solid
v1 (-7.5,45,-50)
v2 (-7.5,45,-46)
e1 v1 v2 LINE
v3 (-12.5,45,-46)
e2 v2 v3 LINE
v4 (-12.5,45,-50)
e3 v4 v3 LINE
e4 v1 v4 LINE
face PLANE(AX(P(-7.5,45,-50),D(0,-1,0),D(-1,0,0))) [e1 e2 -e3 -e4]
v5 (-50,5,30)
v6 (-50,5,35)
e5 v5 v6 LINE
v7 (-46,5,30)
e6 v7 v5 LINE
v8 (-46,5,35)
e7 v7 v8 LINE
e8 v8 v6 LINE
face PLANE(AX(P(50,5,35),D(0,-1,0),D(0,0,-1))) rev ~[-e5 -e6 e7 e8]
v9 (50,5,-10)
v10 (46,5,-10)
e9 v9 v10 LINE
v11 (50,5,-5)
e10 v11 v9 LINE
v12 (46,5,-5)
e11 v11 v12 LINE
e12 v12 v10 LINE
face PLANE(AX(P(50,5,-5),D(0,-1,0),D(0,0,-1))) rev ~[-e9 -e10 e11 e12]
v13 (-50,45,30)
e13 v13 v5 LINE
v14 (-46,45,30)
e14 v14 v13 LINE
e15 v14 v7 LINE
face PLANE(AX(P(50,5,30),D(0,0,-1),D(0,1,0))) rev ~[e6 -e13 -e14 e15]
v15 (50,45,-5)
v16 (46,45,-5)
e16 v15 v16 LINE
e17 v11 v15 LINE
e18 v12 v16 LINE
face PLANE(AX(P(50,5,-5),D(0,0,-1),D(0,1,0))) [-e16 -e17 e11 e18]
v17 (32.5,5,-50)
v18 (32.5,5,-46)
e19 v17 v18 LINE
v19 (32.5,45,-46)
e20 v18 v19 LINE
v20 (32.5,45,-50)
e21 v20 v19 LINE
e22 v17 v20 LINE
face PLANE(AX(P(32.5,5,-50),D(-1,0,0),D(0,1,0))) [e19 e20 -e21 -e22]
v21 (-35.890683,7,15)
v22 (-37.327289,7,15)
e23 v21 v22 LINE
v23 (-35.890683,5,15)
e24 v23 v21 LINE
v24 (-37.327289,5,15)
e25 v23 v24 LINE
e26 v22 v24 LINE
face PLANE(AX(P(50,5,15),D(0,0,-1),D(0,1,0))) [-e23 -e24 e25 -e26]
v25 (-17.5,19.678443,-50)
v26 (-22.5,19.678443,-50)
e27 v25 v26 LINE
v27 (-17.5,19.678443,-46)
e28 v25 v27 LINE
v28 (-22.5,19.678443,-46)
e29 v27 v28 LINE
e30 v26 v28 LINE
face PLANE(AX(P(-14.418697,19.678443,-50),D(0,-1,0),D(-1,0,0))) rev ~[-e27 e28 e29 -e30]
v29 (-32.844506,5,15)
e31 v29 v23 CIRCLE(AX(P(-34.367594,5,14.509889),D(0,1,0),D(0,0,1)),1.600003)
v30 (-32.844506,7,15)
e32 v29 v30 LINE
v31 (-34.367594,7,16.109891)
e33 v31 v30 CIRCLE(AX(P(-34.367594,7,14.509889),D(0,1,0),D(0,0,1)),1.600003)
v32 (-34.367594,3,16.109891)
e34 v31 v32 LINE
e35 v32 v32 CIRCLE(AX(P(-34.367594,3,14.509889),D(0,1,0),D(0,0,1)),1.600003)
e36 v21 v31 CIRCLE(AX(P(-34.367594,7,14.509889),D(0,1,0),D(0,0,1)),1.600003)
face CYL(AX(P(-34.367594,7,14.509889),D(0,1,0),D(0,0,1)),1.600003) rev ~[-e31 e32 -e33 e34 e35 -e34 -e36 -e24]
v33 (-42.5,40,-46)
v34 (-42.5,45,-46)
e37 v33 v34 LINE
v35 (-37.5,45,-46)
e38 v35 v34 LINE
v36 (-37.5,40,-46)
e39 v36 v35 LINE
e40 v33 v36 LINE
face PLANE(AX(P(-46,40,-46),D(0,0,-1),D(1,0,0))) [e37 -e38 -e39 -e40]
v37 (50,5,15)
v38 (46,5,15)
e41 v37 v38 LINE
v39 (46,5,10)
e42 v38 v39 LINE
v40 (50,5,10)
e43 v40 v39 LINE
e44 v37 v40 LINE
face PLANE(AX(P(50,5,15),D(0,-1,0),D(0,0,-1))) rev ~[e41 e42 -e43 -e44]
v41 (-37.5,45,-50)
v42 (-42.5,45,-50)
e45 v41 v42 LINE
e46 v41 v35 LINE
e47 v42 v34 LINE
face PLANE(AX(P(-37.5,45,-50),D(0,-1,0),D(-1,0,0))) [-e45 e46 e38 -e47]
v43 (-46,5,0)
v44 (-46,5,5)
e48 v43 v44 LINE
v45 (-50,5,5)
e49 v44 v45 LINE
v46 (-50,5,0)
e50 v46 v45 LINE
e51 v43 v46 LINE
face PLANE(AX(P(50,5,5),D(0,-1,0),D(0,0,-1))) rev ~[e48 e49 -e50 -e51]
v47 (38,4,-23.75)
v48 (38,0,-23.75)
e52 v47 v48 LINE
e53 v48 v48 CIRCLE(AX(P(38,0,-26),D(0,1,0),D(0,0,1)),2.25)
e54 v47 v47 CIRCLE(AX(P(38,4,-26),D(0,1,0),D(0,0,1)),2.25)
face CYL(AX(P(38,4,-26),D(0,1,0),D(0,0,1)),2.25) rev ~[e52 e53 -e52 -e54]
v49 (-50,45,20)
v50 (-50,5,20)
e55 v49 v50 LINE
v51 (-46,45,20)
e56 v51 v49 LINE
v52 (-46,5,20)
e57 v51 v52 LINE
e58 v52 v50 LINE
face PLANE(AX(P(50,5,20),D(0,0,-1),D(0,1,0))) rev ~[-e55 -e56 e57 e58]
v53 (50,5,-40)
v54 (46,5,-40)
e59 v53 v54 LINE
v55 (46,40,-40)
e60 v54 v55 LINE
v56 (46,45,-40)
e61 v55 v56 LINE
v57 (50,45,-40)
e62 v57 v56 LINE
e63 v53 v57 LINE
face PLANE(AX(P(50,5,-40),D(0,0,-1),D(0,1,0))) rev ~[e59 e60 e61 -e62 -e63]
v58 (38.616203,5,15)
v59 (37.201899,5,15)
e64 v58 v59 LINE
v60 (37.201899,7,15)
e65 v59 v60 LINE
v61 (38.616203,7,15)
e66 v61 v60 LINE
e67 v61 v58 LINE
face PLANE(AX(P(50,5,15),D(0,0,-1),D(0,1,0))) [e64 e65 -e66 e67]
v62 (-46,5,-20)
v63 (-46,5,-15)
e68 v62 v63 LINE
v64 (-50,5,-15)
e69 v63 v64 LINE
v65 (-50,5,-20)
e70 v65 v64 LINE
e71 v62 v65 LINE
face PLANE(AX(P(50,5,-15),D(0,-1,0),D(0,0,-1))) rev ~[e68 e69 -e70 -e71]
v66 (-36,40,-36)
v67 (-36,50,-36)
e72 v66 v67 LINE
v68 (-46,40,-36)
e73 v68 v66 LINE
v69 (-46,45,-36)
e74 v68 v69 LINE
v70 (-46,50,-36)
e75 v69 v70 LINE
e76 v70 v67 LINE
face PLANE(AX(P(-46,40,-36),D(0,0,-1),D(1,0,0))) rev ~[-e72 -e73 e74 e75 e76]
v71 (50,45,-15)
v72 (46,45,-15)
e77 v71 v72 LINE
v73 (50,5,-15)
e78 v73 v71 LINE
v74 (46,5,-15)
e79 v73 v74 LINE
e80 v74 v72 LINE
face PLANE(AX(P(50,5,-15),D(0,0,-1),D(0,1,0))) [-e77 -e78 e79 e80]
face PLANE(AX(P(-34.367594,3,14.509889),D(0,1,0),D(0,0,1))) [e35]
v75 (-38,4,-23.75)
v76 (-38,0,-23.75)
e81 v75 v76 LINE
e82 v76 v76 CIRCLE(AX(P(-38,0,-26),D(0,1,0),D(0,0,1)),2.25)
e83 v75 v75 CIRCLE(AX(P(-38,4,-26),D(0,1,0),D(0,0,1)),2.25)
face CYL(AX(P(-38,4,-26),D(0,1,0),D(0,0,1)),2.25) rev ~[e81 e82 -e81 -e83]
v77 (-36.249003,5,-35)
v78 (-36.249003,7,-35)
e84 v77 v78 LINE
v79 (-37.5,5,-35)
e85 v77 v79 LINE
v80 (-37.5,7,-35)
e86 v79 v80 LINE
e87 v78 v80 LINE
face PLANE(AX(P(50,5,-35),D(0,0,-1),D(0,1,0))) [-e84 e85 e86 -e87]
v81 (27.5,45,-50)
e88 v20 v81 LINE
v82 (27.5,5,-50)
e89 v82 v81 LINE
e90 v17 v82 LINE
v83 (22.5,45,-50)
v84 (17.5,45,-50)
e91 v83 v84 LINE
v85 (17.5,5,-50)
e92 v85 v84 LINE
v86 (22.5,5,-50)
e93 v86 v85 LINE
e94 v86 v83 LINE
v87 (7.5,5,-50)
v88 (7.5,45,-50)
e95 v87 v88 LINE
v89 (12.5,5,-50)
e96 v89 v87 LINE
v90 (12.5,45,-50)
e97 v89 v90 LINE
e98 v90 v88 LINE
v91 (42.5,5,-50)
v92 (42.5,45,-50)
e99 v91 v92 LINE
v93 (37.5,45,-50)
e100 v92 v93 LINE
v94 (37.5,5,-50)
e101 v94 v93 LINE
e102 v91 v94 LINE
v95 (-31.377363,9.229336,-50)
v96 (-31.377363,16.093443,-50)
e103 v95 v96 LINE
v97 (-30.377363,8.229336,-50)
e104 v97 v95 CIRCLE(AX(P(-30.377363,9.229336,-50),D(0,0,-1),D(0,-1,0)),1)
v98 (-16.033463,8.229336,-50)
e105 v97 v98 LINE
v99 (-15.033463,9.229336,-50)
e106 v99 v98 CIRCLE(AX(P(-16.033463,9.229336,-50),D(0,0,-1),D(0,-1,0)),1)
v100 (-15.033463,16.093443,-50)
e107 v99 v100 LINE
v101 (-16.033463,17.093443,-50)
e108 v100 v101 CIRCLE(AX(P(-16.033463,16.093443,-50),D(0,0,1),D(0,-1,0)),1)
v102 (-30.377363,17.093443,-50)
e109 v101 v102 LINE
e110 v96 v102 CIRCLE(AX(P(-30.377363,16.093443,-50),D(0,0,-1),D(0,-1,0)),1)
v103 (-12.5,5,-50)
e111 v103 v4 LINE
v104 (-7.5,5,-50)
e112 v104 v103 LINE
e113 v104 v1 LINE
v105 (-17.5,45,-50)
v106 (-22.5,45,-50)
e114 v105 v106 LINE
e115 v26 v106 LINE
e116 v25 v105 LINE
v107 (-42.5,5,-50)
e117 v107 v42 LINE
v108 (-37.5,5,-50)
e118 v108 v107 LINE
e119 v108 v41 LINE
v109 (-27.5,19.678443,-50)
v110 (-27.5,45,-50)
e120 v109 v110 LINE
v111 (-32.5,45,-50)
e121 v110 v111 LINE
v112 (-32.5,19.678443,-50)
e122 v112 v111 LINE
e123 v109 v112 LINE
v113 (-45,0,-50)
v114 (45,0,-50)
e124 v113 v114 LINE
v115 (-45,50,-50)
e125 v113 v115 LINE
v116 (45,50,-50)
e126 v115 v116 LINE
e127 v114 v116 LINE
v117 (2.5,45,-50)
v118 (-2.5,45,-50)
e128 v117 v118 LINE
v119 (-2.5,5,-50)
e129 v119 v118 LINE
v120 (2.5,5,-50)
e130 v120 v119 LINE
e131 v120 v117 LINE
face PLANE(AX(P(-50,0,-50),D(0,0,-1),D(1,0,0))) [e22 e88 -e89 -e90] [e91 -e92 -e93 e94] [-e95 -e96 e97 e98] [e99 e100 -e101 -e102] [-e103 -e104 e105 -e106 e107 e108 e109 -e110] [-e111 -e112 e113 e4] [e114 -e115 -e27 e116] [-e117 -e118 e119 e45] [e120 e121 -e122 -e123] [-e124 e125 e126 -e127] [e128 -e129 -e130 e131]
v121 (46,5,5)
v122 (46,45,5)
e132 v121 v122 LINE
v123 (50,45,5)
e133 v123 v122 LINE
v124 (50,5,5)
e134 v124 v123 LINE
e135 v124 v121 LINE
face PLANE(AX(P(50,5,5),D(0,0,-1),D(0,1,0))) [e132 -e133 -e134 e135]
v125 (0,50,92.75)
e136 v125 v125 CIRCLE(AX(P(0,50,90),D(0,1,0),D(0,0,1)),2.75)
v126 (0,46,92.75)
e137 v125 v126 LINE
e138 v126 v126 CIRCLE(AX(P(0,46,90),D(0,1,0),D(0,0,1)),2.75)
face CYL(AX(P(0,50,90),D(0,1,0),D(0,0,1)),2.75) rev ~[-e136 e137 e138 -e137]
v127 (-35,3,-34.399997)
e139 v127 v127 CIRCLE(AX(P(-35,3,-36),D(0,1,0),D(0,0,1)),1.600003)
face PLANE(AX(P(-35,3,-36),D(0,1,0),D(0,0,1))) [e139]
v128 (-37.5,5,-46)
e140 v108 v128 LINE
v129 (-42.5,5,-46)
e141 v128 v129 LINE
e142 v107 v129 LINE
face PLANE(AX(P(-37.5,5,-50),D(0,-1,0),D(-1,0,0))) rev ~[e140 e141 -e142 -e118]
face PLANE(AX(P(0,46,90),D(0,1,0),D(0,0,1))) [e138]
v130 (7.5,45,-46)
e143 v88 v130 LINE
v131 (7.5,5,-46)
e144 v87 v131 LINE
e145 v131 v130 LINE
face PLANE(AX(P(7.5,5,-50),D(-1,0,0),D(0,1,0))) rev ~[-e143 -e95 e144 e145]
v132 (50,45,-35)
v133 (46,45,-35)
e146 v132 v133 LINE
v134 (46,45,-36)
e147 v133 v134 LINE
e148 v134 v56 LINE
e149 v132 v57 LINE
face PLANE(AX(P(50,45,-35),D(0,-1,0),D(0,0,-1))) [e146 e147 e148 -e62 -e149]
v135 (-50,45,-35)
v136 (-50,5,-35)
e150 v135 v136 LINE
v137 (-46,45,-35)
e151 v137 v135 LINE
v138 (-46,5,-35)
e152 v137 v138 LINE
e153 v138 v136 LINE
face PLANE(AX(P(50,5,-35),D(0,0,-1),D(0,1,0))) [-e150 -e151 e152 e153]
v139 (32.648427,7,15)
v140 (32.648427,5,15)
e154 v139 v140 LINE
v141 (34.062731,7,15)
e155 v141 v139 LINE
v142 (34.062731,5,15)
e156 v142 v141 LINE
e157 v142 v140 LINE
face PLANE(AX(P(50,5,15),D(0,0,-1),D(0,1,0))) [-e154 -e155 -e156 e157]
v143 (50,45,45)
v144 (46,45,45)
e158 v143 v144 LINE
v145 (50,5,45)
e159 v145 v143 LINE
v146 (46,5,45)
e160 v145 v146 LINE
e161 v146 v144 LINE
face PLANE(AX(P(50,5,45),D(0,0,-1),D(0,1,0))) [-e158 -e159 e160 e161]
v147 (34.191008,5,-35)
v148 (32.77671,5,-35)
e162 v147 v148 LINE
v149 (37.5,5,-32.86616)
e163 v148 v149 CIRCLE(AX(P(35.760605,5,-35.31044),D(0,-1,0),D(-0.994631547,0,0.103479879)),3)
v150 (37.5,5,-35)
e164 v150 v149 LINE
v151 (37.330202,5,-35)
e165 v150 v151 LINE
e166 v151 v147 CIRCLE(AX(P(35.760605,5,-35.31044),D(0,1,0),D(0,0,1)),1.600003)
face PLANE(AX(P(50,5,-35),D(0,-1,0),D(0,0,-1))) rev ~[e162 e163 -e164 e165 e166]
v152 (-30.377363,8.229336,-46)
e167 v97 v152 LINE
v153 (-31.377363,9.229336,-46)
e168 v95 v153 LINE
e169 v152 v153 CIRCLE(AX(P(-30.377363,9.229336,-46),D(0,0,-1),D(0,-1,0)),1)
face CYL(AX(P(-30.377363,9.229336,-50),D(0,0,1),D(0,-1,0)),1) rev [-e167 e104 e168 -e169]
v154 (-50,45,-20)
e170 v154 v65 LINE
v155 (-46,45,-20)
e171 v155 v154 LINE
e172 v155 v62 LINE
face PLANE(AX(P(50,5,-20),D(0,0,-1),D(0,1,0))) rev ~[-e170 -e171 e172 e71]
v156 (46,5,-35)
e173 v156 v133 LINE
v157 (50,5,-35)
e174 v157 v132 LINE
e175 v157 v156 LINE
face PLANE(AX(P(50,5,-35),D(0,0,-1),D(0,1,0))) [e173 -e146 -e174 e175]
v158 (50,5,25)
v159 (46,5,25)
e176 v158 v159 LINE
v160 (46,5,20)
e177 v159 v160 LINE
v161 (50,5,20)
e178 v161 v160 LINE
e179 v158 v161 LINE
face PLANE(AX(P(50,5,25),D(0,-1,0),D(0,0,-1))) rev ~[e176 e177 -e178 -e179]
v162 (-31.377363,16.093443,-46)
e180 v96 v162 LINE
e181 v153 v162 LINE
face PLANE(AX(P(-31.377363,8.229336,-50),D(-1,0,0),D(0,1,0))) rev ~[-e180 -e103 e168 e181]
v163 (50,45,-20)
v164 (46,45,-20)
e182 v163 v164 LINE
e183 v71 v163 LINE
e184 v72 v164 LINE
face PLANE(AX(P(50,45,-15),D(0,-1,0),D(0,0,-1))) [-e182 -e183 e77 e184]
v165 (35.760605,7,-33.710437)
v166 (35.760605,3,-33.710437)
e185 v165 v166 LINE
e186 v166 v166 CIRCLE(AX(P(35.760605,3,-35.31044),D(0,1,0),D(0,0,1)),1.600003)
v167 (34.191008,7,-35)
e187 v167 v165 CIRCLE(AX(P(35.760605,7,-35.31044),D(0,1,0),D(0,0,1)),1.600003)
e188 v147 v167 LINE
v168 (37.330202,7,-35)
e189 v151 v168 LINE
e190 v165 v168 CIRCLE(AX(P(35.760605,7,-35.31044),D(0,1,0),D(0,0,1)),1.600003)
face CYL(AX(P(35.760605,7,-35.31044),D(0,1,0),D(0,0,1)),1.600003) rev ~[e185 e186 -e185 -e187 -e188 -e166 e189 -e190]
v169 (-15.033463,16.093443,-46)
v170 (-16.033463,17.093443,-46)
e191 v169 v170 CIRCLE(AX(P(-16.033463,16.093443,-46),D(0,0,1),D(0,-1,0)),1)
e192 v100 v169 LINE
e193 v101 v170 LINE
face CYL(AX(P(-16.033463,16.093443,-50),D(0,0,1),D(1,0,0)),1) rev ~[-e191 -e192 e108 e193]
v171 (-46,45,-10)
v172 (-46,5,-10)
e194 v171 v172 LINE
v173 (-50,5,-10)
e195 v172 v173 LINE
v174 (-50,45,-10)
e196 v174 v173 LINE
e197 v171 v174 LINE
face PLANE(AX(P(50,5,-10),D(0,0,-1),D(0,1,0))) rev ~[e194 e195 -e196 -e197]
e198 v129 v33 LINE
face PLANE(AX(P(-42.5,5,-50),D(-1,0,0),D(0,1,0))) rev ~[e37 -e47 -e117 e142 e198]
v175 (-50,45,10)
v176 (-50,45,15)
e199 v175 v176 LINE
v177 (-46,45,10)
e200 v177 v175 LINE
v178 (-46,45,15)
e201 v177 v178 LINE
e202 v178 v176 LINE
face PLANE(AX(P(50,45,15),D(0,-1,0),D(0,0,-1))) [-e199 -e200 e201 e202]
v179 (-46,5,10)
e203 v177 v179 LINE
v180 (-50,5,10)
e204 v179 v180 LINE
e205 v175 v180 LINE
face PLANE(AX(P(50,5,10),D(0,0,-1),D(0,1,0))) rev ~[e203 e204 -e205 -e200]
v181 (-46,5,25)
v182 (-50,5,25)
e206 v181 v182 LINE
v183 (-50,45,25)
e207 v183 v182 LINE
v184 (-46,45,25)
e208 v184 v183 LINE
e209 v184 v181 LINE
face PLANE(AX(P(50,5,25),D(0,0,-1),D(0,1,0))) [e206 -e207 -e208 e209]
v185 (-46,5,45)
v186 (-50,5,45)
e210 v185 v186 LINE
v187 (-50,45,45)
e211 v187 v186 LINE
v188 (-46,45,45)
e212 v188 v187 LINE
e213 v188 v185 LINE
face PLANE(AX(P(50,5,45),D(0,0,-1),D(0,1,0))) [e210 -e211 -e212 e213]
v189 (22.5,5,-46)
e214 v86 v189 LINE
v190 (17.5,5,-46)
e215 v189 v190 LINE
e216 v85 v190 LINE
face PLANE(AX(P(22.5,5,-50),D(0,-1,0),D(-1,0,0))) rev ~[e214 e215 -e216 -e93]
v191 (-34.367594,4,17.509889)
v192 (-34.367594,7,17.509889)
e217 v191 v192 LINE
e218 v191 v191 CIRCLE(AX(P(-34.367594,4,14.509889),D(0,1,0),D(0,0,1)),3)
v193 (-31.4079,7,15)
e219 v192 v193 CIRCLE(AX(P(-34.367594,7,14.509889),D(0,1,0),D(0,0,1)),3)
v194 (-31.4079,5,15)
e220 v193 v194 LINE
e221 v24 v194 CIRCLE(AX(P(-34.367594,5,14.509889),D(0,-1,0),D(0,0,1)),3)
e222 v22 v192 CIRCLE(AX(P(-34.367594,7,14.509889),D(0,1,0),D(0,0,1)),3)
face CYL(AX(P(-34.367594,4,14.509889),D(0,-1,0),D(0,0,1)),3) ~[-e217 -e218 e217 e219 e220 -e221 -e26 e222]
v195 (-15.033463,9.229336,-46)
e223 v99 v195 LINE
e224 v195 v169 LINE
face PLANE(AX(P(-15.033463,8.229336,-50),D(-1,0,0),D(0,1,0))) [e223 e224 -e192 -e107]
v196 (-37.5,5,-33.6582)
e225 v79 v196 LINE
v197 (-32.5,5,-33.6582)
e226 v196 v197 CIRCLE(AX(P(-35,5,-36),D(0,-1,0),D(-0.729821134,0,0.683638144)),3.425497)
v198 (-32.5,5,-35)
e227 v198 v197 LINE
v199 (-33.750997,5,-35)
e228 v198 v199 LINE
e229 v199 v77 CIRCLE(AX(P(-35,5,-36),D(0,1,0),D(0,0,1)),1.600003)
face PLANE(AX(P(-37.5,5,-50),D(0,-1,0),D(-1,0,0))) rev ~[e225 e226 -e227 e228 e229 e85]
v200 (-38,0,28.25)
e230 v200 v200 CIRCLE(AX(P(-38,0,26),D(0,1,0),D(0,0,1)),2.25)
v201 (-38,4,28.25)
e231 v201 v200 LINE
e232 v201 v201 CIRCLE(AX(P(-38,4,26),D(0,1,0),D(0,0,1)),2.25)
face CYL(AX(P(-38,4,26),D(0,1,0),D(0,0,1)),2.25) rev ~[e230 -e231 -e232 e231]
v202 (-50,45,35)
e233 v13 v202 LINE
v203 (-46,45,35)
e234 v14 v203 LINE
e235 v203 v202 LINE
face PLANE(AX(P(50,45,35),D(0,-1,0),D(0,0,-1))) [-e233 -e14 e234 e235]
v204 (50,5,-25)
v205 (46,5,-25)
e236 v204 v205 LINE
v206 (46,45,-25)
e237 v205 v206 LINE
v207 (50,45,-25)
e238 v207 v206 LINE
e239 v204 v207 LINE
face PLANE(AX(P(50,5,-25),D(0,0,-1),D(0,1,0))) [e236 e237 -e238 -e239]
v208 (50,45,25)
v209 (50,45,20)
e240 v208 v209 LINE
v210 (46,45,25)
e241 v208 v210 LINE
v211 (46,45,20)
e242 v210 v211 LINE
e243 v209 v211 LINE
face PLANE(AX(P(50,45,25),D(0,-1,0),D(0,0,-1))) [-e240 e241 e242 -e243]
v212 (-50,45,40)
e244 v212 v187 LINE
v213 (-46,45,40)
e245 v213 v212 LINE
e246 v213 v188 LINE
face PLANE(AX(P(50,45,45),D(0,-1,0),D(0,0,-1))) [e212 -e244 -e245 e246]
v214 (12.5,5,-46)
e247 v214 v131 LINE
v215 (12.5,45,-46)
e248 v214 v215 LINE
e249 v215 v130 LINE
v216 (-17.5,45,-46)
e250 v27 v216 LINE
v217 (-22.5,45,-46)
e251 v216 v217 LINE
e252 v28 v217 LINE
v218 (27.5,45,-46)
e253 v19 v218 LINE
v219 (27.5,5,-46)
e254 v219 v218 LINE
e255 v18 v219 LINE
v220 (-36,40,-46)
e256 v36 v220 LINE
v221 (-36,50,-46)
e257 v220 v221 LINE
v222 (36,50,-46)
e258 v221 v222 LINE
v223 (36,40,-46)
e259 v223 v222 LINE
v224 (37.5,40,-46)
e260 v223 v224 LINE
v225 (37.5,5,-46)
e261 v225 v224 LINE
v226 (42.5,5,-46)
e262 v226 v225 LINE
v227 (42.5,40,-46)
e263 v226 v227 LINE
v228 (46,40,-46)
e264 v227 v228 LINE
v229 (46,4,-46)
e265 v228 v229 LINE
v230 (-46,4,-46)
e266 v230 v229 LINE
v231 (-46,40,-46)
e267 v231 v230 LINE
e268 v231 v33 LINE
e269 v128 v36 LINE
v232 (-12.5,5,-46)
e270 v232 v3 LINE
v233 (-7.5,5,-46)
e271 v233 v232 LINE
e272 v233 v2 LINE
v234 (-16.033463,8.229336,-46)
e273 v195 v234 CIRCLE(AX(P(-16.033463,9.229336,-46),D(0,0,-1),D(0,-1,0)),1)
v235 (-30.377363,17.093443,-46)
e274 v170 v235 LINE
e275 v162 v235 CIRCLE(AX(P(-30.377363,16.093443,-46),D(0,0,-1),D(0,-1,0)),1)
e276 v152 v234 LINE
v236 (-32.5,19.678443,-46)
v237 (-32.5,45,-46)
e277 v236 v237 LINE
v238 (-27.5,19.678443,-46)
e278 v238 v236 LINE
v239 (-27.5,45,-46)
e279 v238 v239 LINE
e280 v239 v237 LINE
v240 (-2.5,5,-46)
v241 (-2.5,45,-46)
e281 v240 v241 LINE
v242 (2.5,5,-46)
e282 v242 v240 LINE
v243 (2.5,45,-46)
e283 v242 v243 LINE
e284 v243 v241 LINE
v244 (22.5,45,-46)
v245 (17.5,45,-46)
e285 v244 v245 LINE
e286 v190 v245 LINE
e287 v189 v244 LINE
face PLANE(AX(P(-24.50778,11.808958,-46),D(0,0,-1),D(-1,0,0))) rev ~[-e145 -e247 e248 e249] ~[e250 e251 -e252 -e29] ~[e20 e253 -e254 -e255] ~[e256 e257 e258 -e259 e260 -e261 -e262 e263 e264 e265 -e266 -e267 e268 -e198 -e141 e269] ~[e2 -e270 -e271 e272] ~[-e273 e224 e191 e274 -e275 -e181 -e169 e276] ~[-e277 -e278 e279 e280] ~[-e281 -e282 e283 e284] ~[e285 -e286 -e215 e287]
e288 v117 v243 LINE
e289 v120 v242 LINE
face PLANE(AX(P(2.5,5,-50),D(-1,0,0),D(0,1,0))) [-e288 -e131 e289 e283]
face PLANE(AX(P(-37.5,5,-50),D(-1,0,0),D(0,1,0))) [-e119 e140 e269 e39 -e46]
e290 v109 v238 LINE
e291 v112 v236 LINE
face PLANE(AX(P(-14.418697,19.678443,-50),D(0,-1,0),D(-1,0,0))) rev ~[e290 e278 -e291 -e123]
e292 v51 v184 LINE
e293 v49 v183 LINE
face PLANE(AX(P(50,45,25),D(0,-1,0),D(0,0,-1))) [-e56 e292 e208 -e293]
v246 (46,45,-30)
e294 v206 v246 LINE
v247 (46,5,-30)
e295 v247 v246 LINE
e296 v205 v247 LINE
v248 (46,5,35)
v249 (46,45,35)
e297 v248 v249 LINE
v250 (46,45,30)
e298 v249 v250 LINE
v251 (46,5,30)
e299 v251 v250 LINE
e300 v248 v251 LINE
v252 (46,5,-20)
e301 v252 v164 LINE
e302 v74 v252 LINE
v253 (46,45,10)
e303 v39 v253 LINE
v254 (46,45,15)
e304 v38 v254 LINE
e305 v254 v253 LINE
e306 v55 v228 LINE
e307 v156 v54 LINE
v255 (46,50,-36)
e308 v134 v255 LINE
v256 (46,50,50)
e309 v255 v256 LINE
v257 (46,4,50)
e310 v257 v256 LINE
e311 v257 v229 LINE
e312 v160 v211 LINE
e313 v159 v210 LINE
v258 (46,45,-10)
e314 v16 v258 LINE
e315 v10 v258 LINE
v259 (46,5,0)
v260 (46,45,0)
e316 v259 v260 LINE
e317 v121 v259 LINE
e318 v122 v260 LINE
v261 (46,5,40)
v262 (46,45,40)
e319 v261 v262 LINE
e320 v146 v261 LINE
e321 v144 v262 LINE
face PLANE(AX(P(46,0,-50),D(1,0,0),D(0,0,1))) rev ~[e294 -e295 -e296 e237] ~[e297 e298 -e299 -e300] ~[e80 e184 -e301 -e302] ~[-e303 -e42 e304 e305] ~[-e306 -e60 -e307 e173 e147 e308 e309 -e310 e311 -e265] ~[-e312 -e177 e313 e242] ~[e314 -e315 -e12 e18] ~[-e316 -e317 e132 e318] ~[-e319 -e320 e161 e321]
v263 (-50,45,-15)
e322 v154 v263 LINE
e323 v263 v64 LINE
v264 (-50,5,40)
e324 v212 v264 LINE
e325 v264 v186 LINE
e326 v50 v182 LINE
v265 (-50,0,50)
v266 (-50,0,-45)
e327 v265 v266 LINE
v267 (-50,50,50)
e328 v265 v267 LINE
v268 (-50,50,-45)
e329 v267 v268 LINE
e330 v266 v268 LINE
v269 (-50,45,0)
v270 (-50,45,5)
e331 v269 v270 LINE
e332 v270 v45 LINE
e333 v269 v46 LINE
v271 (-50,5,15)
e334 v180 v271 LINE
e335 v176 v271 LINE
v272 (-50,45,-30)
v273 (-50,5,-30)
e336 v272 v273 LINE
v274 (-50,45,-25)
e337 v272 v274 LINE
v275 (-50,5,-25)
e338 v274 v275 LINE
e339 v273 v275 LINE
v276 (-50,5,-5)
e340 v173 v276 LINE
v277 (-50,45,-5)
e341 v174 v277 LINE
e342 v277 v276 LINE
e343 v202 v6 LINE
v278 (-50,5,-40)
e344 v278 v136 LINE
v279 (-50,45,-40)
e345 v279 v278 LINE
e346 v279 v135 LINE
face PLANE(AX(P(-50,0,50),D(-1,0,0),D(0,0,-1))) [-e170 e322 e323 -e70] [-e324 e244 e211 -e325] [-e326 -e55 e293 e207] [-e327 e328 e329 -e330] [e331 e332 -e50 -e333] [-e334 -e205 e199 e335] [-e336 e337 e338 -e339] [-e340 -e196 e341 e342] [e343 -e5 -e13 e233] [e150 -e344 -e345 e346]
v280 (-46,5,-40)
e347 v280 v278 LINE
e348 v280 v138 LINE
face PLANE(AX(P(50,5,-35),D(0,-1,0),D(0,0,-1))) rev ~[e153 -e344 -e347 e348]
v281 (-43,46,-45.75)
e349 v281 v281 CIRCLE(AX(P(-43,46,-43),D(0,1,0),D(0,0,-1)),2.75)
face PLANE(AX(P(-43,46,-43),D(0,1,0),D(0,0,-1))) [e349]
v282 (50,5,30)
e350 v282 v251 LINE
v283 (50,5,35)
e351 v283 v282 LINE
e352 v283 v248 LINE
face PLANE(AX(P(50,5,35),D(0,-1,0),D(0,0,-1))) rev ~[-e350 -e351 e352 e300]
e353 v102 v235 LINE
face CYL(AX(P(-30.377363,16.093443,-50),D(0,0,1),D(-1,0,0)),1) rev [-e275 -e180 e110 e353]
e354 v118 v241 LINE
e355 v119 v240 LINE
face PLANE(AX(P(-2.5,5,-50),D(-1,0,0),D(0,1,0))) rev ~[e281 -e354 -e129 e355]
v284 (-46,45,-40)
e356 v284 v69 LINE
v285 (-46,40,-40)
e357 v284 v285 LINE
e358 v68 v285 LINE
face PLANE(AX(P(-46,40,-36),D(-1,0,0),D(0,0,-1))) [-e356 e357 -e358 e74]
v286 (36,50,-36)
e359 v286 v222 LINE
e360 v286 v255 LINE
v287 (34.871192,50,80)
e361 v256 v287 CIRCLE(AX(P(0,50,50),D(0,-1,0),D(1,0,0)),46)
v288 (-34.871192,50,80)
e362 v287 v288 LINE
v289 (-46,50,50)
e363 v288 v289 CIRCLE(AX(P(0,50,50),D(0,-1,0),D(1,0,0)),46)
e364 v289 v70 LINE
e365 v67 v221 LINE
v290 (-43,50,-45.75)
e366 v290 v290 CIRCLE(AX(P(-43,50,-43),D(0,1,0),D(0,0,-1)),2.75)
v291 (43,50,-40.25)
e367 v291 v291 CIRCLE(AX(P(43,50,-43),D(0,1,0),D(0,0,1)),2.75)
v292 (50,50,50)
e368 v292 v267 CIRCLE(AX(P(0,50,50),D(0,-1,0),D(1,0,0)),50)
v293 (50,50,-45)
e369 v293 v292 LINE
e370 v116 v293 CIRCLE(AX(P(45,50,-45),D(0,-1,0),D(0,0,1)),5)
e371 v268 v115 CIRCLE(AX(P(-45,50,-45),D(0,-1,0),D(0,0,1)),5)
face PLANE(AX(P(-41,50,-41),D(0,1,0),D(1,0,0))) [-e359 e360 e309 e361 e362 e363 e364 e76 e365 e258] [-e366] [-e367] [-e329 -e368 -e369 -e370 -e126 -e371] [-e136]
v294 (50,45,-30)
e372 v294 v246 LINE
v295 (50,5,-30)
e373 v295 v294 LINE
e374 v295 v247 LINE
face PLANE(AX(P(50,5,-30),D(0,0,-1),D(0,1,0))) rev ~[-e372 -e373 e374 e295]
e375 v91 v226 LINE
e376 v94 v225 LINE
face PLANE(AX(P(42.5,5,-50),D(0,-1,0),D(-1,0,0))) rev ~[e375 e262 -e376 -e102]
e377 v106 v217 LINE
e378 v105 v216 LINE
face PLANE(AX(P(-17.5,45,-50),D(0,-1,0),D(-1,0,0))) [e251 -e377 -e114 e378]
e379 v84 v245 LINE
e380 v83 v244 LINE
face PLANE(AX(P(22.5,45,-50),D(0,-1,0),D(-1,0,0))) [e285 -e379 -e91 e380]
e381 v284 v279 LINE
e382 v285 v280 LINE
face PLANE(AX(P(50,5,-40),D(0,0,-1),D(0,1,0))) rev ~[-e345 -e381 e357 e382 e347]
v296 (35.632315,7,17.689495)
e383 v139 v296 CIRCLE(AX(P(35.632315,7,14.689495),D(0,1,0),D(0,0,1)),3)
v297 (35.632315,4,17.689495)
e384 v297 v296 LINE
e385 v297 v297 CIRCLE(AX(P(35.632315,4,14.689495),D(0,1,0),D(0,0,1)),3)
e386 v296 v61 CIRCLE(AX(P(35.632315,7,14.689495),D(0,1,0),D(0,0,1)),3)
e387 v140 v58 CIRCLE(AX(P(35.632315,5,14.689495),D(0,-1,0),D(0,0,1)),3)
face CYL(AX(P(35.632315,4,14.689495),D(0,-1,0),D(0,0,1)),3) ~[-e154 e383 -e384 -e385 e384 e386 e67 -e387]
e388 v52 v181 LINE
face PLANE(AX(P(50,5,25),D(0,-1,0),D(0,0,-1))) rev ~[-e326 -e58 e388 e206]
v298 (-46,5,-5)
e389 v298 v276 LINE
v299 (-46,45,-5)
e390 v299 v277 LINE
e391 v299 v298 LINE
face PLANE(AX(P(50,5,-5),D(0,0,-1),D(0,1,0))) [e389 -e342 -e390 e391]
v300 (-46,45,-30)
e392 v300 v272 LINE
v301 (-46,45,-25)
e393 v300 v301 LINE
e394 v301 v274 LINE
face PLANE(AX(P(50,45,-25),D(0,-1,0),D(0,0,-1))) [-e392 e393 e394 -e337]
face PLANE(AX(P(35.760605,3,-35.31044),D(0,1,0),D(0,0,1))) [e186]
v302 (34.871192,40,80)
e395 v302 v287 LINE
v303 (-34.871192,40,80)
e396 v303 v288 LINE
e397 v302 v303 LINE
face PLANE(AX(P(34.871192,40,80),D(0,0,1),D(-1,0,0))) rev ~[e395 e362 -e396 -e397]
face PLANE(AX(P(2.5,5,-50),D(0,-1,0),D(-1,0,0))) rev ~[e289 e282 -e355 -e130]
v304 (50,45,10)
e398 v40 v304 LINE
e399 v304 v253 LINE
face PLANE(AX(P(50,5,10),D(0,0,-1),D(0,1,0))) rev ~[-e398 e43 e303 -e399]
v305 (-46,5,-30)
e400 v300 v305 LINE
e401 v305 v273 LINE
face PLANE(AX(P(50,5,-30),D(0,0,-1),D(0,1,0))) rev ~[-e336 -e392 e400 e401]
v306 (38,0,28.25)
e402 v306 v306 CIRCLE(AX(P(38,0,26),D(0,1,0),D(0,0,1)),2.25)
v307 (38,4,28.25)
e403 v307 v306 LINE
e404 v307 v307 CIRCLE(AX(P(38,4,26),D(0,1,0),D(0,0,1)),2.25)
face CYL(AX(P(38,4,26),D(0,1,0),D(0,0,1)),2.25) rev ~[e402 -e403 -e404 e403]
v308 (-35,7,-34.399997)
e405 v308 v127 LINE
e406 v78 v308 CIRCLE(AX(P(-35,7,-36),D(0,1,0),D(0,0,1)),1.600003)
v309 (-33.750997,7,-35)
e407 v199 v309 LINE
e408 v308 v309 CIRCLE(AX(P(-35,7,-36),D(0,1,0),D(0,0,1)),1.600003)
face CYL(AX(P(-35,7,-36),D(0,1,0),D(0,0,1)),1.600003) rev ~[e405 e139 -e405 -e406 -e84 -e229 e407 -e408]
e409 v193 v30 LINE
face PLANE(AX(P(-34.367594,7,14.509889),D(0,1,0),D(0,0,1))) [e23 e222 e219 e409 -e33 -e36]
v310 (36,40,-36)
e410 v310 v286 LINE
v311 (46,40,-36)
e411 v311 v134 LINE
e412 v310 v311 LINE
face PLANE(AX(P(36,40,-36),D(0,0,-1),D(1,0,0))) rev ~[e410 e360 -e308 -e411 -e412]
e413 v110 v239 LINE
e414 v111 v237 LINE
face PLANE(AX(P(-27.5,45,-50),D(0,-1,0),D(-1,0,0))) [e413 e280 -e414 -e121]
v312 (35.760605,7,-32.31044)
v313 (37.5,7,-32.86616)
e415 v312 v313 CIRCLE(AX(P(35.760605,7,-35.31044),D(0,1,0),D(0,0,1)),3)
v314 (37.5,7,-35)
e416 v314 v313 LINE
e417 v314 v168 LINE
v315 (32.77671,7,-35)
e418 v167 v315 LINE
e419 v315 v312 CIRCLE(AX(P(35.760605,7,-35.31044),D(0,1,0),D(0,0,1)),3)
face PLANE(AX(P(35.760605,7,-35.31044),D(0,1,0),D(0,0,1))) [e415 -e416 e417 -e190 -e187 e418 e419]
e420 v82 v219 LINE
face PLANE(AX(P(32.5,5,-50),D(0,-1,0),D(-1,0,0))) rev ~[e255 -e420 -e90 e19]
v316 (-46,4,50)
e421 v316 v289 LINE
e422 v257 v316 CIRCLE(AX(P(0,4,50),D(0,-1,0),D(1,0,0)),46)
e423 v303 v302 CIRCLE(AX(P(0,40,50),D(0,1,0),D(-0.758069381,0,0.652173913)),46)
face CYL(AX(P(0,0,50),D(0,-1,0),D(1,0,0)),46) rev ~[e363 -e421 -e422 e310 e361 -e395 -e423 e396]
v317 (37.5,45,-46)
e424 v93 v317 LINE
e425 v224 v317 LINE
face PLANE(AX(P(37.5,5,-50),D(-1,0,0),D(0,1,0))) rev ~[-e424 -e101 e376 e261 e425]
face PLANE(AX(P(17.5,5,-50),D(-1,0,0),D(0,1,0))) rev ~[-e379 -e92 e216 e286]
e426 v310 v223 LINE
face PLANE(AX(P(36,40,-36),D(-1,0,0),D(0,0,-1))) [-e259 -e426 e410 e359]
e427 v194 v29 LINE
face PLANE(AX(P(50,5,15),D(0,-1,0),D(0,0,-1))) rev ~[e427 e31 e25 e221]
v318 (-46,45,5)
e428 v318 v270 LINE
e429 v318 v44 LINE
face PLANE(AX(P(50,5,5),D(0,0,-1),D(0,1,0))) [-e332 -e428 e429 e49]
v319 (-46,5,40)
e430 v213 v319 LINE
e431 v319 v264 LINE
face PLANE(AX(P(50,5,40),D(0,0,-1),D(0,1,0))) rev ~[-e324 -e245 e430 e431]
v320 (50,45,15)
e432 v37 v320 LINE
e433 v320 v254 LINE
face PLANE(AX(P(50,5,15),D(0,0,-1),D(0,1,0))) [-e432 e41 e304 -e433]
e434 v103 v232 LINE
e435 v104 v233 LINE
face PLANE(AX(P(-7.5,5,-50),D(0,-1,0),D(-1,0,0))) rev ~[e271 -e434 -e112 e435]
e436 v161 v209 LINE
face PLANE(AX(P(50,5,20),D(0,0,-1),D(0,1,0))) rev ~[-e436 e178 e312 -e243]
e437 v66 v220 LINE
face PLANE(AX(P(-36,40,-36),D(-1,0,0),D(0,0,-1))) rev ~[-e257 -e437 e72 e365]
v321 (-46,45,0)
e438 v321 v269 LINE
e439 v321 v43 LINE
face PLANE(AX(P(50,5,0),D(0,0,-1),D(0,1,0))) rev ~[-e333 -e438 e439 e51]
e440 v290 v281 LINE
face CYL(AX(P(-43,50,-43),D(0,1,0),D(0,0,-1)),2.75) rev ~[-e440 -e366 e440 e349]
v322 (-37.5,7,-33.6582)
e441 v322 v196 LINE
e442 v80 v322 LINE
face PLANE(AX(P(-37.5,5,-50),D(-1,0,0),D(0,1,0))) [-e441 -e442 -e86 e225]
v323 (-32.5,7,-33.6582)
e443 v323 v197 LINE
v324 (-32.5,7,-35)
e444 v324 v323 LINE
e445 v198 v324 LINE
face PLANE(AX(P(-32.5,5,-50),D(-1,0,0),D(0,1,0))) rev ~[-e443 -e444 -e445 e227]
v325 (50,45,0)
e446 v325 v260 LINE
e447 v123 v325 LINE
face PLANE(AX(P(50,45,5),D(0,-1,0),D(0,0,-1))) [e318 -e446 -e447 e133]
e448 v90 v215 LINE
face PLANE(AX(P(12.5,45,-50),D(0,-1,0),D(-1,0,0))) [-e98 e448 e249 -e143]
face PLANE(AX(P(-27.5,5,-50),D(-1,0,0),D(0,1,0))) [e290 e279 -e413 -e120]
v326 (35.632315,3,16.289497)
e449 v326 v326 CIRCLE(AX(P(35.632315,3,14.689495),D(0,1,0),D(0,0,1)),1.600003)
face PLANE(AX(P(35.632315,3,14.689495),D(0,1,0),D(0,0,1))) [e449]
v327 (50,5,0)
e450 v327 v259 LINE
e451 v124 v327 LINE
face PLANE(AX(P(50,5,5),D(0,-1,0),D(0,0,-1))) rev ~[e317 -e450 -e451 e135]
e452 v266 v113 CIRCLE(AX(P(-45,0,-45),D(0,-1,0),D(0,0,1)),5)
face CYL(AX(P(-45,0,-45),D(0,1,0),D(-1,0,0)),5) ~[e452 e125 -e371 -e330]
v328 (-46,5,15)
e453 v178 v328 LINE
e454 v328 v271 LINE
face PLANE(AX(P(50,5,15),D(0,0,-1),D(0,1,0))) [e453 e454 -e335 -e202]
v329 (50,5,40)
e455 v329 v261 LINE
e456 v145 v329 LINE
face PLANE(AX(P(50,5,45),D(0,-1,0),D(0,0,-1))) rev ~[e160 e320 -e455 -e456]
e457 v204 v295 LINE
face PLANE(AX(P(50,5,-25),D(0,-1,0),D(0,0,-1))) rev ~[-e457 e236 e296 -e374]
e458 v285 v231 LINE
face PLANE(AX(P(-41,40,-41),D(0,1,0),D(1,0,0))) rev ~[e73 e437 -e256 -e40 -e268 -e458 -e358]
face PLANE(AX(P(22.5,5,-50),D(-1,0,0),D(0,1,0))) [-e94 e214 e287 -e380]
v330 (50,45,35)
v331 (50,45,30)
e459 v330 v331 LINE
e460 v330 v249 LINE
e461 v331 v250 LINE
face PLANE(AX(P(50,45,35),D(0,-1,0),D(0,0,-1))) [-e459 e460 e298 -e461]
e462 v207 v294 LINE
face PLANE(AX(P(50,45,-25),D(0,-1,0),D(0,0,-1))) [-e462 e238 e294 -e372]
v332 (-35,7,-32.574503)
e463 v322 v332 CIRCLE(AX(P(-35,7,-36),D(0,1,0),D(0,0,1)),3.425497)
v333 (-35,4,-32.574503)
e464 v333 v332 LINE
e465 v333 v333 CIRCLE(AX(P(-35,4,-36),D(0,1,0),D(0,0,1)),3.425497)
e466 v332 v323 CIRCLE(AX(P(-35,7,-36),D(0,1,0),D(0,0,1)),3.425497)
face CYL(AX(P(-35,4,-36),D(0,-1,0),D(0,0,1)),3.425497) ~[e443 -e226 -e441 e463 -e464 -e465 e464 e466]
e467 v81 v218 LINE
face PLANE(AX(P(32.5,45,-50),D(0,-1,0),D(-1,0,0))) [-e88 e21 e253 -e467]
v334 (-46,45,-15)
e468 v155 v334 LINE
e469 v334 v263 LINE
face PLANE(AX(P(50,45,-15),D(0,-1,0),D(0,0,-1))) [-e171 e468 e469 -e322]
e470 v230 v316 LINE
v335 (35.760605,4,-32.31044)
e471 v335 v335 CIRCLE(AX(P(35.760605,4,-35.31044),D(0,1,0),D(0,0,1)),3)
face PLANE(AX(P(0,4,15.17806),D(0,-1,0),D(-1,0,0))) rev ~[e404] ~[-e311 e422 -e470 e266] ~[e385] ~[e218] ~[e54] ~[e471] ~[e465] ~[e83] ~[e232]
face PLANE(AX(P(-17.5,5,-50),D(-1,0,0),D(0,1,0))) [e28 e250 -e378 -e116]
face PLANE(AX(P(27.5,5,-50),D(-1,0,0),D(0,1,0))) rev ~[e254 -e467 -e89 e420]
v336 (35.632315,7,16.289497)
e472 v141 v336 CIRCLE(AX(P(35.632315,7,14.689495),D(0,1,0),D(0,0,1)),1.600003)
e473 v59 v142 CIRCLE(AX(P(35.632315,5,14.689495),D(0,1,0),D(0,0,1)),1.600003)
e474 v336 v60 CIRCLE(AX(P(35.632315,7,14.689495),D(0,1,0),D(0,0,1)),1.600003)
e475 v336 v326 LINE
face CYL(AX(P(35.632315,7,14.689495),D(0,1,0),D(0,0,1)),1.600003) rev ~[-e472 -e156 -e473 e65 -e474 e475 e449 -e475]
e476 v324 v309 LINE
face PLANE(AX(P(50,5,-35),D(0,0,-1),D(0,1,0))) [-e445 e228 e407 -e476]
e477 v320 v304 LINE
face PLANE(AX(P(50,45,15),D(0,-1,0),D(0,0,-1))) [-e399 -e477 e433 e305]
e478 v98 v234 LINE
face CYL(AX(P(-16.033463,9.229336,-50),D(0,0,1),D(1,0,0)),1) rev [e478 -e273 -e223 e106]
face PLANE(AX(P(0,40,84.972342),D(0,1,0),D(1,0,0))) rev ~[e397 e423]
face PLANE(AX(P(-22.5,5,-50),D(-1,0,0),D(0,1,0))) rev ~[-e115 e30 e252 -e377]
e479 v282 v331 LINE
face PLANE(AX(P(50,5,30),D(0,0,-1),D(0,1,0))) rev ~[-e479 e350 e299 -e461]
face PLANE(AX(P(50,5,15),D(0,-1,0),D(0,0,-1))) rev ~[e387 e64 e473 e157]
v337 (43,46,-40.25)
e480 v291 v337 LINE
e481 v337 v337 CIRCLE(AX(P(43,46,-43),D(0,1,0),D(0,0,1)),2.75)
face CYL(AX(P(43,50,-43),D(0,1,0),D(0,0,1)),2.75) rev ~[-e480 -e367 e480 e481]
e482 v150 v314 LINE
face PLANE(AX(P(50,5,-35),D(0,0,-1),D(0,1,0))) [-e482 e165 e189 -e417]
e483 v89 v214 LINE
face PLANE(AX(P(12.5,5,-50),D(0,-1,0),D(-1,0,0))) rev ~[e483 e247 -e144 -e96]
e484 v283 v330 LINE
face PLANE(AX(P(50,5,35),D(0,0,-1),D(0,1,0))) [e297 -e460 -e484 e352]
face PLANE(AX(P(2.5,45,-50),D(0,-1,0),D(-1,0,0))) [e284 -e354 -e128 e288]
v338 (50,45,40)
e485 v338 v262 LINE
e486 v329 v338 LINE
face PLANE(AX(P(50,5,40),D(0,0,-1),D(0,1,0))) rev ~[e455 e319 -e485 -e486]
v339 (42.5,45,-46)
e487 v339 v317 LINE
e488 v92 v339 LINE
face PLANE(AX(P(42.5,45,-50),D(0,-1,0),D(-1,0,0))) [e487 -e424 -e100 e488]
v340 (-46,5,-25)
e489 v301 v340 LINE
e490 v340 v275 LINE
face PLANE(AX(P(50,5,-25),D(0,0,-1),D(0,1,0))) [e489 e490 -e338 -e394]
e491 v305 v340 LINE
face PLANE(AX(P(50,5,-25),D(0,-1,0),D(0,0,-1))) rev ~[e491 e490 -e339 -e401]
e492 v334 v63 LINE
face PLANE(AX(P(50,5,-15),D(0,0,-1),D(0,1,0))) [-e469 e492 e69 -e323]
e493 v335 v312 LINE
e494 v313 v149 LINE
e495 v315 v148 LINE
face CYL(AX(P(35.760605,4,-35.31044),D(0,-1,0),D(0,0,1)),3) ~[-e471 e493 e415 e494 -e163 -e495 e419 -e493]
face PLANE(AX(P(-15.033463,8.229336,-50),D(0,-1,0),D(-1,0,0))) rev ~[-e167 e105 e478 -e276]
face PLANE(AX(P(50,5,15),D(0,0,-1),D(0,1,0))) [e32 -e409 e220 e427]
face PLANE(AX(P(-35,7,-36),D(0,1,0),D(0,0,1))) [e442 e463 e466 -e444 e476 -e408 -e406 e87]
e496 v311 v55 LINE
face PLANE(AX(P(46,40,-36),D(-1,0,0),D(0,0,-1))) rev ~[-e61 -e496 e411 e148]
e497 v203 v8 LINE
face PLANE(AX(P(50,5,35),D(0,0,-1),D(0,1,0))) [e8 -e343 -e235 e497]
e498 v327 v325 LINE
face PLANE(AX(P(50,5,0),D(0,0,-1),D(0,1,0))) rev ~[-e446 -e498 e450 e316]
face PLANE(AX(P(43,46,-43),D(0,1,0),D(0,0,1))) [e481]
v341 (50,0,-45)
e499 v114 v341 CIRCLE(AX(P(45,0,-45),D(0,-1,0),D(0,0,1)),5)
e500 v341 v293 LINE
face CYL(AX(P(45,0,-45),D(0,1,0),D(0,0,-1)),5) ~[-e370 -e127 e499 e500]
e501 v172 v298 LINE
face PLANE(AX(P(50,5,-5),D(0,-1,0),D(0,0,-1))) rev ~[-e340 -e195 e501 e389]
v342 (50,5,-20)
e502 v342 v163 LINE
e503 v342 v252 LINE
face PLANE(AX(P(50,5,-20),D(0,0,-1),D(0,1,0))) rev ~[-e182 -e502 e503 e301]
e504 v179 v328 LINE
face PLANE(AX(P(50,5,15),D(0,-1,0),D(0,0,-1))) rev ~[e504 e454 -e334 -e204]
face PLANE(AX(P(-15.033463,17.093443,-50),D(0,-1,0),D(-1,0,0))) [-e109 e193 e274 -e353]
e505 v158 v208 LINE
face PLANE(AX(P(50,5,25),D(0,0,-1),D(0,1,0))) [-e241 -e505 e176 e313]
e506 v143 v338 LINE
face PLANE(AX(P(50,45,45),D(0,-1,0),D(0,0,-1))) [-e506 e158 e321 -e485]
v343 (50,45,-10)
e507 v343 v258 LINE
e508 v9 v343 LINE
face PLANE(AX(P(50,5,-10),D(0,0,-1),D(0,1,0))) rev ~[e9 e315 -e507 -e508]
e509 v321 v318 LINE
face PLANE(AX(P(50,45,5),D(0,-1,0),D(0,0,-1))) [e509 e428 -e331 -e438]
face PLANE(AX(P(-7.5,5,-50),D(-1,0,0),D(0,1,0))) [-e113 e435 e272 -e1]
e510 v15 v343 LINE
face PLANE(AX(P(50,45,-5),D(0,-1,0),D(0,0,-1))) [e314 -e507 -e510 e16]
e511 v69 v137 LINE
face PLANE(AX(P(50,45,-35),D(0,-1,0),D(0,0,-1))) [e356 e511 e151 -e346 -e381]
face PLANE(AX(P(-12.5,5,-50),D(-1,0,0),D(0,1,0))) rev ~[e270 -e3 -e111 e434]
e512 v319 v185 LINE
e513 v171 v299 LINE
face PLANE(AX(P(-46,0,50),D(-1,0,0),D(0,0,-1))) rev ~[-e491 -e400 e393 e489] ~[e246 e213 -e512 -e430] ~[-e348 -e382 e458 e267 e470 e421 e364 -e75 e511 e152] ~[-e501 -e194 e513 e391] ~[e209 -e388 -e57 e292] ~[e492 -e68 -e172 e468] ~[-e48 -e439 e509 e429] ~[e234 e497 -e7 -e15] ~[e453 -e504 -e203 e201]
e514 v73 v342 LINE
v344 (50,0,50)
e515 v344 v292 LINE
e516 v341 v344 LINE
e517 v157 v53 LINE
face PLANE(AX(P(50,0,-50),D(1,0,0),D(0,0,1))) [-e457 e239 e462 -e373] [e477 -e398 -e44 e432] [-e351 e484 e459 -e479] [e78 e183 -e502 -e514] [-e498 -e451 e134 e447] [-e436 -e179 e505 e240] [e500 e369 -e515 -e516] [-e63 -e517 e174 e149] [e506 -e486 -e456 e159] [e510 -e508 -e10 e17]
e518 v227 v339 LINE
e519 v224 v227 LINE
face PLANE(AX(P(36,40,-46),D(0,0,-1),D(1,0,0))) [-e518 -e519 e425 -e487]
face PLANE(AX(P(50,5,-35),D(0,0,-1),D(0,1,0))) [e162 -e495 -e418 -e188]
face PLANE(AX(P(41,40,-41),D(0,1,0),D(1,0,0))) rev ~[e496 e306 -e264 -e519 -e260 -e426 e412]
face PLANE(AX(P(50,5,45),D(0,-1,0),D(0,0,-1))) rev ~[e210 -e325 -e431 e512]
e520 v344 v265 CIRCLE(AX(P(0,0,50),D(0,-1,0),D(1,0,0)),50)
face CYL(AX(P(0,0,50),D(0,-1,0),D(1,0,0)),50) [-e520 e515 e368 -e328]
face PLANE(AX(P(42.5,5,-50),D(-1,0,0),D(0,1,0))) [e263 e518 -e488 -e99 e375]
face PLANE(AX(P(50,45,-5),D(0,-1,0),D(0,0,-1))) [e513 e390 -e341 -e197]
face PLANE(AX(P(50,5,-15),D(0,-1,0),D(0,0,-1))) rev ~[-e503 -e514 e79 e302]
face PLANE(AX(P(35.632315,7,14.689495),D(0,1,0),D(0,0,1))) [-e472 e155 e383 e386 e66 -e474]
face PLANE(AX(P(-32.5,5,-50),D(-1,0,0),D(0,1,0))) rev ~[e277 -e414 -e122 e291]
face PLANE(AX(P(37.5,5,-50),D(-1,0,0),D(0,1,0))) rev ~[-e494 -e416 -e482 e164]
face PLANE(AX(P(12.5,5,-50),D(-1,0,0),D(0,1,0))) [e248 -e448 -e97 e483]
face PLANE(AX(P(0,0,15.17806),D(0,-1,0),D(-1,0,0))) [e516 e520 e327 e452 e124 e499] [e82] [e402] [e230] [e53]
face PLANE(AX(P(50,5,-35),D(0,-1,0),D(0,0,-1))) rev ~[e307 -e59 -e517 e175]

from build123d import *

# Parameters (mm, degrees)
EXTRUDE_1_DEPTH     = 50
SHELL_1_T           = -4
SKETCH_2_R          = 3
SKETCH_2_R_2        = 3.425496854
EXTRUDE_2_DEPTH     = 3
SKETCH_4_R          = 1.60000254
CUT_EXTRUDE_2_DEPTH = 4
SKETCH_7_R          = 2.25
CUT_EXTRUDE_4_DEPTH = 5
SKETCH_8_W          = 5
SKETCH_8_H          = 40
CUT_EXTRUDE_5_DEPTH = 144
SKETCH_9_W          = 5
SKETCH_9_H          = 40
CUT_EXTRUDE_6_DEPTH = 28
EXTRUDE_START       = -10
SKETCH_5_W          = 10
SKETCH_5_H          = 10
EXTRUDE_4_DEPTH     = 10
SKETCH_6_R          = 2.75
CUT_EXTRUDE_3_DEPTH = 4
FILLET_1_R          = 5
SKETCH_13_W         = 20.178165971
SKETCH_13_H         = 15.738969457
SKETCH_13_W_2       = 16.343899967
SKETCH_13_H_2       = 8.864106926
EXTRUDE_6_DEPTH     = 4
SKETCH_14_W         = 16.343899967
SKETCH_14_H         = 8.864106926
CUT_EXTRUDE_8_DEPTH = 10
FILLET_2_R          = 1


with BuildPart() as part:
    # 草图1 → 凸台-拉伸1 (new body)
    with BuildSketch(Plane(origin=(0, 0, 0), x_dir=(1, 0, 0), z_dir=(0, 1, 0))):
        with BuildLine():
            Line((-50, -50), (-50, 50))
            Line((-50, 50), (50, 50))
            Line((50, 50), (50, -50))
            ThreePointArc((50, -50), (0, -100), (-50, -50))
        make_face()
    extrude(amount=EXTRUDE_1_DEPTH)

    # 抽壳1
    shell_1_openings = [part.faces().sort_by_distance(p)[0] for p in [
        (0, 50, 20.082075005),
    ]]
    offset(amount=SHELL_1_T, openings=shell_1_openings, kind=Kind.INTERSECTION)

    # 草图2 → 凸台-拉伸2 (add)
    with BuildSketch(Plane(origin=(0, 4, 0), x_dir=(1, 0, 0), z_dir=(0, 1, 0))):
        with Locations(Location((35.632314962, -14.68949484, 0), (0, 0, 270))):
            Circle(SKETCH_2_R)
        with Locations(Location((35.760604874, 35.310439638, 0), (0, 0, 270))):
            Circle(SKETCH_2_R)
        with Locations(Location((-35, 36, 0), (0, 0, 270))):
            Circle(SKETCH_2_R_2)
        with Locations(Location((-34.367594322, -14.509888959, 0), (0, 0, 270))):
            Circle(SKETCH_2_R)
    extrude(amount=EXTRUDE_2_DEPTH)

    # 草图4 → 切除-拉伸2 (cut)
    with BuildSketch(Plane(origin=(0, 7, 0), x_dir=(1, 0, 0), z_dir=(0, 1, 0))):
        with Locations(Location((-34.367594322, -14.509888959, 0), (0, 0, 270))):
            Circle(SKETCH_4_R)
        with Locations(Location((-35, 36, 0), (0, 0, 270))):
            Circle(SKETCH_4_R)
        with Locations(Location((35.760604874, 35.310439638, 0), (0, 0, 270))):
            Circle(SKETCH_4_R)
        with Locations(Location((35.632314962, -14.68949484, 0), (0, 0, 270))):
            Circle(SKETCH_4_R)
    extrude(amount=-CUT_EXTRUDE_2_DEPTH, mode=Mode.SUBTRACT)

    # 草图7 → 切除-拉伸4 (cut)
    with BuildSketch(Plane(origin=(0, 4, 0), x_dir=(1, 0, 0), z_dir=(0, 1, 0))):
        with Locations(Location((-38, 26, 0), (0, 0, 270))):
            Circle(SKETCH_7_R)
        with Locations(Location((38, 26, 0), (0, 0, 270))):
            Circle(SKETCH_7_R)
        with Locations(Location((38, -26, 0), (0, 0, 270))):
            Circle(SKETCH_7_R)
        with Locations(Location((-38, -26, 0), (0, 0, 270))):
            Circle(SKETCH_7_R)
    extrude(amount=-CUT_EXTRUDE_4_DEPTH, mode=Mode.SUBTRACT)

    # 草图8 → 切除-拉伸5 (cut)
    with BuildSketch(Plane(origin=(50, 0, 0), x_dir=(0, 0, -1), z_dir=(1, 0, 0))):
        with Locations((-42.5, 25)):
            Rectangle(SKETCH_8_W, SKETCH_8_H)
        with Locations((-32.5, 25)):
            Rectangle(SKETCH_8_W, SKETCH_8_H)
        with Locations((-22.5, 25)):
            Rectangle(SKETCH_8_W, SKETCH_8_H)
        with Locations((-12.5, 25)):
            Rectangle(SKETCH_8_W, SKETCH_8_H)
        with Locations((-2.5, 25)):
            Rectangle(SKETCH_8_W, SKETCH_8_H)
        with Locations((7.5, 25)):
            Rectangle(SKETCH_8_W, SKETCH_8_H)
        with Locations((17.5, 25)):
            Rectangle(SKETCH_8_W, SKETCH_8_H)
        with Locations((27.5, 25)):
            Rectangle(SKETCH_8_W, SKETCH_8_H)
        with Locations((37.5, 25)):
            Rectangle(SKETCH_8_W, SKETCH_8_H)
    extrude(amount=-CUT_EXTRUDE_5_DEPTH, mode=Mode.SUBTRACT)

    # 草图9 → 切除-拉伸6 (cut)
    with BuildSketch(Plane(origin=(0, 0, -50), x_dir=(-1, 0, 0), z_dir=(0, 0, -1))):
        with Locations((0, 25)):
            Rectangle(SKETCH_9_W, SKETCH_9_H)
        with Locations((10, 25)):
            Rectangle(SKETCH_9_W, SKETCH_9_H)
        with Locations((20, 25)):
            Rectangle(SKETCH_9_W, SKETCH_9_H)
        with Locations((30, 25)):
            Rectangle(SKETCH_9_W, SKETCH_9_H)
        with Locations((40, 25)):
            Rectangle(SKETCH_9_W, SKETCH_9_H)
        with Locations((-10, 25)):
            Rectangle(SKETCH_9_W, SKETCH_9_H)
        with Locations((-20, 25)):
            Rectangle(SKETCH_9_W, SKETCH_9_H)
        with Locations((-30, 25)):
            Rectangle(SKETCH_9_W, SKETCH_9_H)
        with Locations((-40, 25)):
            Rectangle(SKETCH_9_W, SKETCH_9_H)
    extrude(amount=-CUT_EXTRUDE_6_DEPTH, mode=Mode.SUBTRACT)

    # 草图5 → 凸台-拉伸4 (add)
    with BuildSketch(Plane(origin=(0, 50, 0), x_dir=(1, 0, 0), z_dir=(0, 1, 0)).offset(EXTRUDE_START)):
        with Locations((-41, 41)):
            Rectangle(SKETCH_5_W, SKETCH_5_H)
        with Locations((41, 41)):
            Rectangle(SKETCH_5_W, SKETCH_5_H)
        with BuildLine():
            Line((34.871191548, -80), (-34.871191548, -80))
            ThreePointArc((-34.871191548, -80), (0, -96), (34.871191548, -80))
        make_face()
    extrude(amount=EXTRUDE_4_DEPTH)

    # 草图6 → 切除-拉伸3 (cut)
    with BuildSketch(Plane(origin=(0, 50, 0), x_dir=(1, 0, 0), z_dir=(0, 1, 0))):
        with Locations(Location((43, 43, 0), (0, 0, 270))):
            Circle(SKETCH_6_R)
        with Locations(Location((0, -90, 0), (0, 0, 270))):
            Circle(SKETCH_6_R)
        with Locations(Location((-43, 43, 0), (0, 0, 90))):
            Circle(SKETCH_6_R)
    extrude(amount=-CUT_EXTRUDE_3_DEPTH, mode=Mode.SUBTRACT)

    # 圆角1
    fillet_1_edges = [part.edges().sort_by_distance(p)[0] for p in [
        (-50, 25, -50),
        (50, 25, -50),
    ]]
    fillet(fillet_1_edges, radius=FILLET_1_R)

    # 草图13 → 凸台-拉伸6 (add)
    with BuildSketch(Plane(origin=(0, 0, -50), x_dir=(-1, 0, 0), z_dir=(0, 0, -1))):
        with Locations((24.507779854, 11.808957997)):
            Rectangle(SKETCH_13_W, SKETCH_13_H)
        with Locations((23.205413146, 12.661389703)):
            Rectangle(SKETCH_13_W_2, SKETCH_13_H_2, mode=Mode.SUBTRACT)
    extrude(amount=-EXTRUDE_6_DEPTH)

    # 草图14 → 切除-拉伸8 (cut)
    with BuildSketch(Plane(origin=(0, 0, -50), x_dir=(-1, 0, 0), z_dir=(0, 0, -1))):
        with Locations((23.205413146, 12.661389703)):
            Rectangle(SKETCH_14_W, SKETCH_14_H)
    extrude(amount=-CUT_EXTRUDE_8_DEPTH, mode=Mode.SUBTRACT)

    # 圆角2
    fillet_2_edges = [part.edges().sort_by_distance(p)[0] for p in [
        (-31.37736313, 17.093443166, -48),
        (-31.37736313, 8.22933624, -48),
        (-15.033463163, 17.093443166, -48),
        (-15.033463163, 8.22933624, -48),
    ]]
    fillet(fillet_2_edges, radius=FILLET_2_R)


solid = part.part
